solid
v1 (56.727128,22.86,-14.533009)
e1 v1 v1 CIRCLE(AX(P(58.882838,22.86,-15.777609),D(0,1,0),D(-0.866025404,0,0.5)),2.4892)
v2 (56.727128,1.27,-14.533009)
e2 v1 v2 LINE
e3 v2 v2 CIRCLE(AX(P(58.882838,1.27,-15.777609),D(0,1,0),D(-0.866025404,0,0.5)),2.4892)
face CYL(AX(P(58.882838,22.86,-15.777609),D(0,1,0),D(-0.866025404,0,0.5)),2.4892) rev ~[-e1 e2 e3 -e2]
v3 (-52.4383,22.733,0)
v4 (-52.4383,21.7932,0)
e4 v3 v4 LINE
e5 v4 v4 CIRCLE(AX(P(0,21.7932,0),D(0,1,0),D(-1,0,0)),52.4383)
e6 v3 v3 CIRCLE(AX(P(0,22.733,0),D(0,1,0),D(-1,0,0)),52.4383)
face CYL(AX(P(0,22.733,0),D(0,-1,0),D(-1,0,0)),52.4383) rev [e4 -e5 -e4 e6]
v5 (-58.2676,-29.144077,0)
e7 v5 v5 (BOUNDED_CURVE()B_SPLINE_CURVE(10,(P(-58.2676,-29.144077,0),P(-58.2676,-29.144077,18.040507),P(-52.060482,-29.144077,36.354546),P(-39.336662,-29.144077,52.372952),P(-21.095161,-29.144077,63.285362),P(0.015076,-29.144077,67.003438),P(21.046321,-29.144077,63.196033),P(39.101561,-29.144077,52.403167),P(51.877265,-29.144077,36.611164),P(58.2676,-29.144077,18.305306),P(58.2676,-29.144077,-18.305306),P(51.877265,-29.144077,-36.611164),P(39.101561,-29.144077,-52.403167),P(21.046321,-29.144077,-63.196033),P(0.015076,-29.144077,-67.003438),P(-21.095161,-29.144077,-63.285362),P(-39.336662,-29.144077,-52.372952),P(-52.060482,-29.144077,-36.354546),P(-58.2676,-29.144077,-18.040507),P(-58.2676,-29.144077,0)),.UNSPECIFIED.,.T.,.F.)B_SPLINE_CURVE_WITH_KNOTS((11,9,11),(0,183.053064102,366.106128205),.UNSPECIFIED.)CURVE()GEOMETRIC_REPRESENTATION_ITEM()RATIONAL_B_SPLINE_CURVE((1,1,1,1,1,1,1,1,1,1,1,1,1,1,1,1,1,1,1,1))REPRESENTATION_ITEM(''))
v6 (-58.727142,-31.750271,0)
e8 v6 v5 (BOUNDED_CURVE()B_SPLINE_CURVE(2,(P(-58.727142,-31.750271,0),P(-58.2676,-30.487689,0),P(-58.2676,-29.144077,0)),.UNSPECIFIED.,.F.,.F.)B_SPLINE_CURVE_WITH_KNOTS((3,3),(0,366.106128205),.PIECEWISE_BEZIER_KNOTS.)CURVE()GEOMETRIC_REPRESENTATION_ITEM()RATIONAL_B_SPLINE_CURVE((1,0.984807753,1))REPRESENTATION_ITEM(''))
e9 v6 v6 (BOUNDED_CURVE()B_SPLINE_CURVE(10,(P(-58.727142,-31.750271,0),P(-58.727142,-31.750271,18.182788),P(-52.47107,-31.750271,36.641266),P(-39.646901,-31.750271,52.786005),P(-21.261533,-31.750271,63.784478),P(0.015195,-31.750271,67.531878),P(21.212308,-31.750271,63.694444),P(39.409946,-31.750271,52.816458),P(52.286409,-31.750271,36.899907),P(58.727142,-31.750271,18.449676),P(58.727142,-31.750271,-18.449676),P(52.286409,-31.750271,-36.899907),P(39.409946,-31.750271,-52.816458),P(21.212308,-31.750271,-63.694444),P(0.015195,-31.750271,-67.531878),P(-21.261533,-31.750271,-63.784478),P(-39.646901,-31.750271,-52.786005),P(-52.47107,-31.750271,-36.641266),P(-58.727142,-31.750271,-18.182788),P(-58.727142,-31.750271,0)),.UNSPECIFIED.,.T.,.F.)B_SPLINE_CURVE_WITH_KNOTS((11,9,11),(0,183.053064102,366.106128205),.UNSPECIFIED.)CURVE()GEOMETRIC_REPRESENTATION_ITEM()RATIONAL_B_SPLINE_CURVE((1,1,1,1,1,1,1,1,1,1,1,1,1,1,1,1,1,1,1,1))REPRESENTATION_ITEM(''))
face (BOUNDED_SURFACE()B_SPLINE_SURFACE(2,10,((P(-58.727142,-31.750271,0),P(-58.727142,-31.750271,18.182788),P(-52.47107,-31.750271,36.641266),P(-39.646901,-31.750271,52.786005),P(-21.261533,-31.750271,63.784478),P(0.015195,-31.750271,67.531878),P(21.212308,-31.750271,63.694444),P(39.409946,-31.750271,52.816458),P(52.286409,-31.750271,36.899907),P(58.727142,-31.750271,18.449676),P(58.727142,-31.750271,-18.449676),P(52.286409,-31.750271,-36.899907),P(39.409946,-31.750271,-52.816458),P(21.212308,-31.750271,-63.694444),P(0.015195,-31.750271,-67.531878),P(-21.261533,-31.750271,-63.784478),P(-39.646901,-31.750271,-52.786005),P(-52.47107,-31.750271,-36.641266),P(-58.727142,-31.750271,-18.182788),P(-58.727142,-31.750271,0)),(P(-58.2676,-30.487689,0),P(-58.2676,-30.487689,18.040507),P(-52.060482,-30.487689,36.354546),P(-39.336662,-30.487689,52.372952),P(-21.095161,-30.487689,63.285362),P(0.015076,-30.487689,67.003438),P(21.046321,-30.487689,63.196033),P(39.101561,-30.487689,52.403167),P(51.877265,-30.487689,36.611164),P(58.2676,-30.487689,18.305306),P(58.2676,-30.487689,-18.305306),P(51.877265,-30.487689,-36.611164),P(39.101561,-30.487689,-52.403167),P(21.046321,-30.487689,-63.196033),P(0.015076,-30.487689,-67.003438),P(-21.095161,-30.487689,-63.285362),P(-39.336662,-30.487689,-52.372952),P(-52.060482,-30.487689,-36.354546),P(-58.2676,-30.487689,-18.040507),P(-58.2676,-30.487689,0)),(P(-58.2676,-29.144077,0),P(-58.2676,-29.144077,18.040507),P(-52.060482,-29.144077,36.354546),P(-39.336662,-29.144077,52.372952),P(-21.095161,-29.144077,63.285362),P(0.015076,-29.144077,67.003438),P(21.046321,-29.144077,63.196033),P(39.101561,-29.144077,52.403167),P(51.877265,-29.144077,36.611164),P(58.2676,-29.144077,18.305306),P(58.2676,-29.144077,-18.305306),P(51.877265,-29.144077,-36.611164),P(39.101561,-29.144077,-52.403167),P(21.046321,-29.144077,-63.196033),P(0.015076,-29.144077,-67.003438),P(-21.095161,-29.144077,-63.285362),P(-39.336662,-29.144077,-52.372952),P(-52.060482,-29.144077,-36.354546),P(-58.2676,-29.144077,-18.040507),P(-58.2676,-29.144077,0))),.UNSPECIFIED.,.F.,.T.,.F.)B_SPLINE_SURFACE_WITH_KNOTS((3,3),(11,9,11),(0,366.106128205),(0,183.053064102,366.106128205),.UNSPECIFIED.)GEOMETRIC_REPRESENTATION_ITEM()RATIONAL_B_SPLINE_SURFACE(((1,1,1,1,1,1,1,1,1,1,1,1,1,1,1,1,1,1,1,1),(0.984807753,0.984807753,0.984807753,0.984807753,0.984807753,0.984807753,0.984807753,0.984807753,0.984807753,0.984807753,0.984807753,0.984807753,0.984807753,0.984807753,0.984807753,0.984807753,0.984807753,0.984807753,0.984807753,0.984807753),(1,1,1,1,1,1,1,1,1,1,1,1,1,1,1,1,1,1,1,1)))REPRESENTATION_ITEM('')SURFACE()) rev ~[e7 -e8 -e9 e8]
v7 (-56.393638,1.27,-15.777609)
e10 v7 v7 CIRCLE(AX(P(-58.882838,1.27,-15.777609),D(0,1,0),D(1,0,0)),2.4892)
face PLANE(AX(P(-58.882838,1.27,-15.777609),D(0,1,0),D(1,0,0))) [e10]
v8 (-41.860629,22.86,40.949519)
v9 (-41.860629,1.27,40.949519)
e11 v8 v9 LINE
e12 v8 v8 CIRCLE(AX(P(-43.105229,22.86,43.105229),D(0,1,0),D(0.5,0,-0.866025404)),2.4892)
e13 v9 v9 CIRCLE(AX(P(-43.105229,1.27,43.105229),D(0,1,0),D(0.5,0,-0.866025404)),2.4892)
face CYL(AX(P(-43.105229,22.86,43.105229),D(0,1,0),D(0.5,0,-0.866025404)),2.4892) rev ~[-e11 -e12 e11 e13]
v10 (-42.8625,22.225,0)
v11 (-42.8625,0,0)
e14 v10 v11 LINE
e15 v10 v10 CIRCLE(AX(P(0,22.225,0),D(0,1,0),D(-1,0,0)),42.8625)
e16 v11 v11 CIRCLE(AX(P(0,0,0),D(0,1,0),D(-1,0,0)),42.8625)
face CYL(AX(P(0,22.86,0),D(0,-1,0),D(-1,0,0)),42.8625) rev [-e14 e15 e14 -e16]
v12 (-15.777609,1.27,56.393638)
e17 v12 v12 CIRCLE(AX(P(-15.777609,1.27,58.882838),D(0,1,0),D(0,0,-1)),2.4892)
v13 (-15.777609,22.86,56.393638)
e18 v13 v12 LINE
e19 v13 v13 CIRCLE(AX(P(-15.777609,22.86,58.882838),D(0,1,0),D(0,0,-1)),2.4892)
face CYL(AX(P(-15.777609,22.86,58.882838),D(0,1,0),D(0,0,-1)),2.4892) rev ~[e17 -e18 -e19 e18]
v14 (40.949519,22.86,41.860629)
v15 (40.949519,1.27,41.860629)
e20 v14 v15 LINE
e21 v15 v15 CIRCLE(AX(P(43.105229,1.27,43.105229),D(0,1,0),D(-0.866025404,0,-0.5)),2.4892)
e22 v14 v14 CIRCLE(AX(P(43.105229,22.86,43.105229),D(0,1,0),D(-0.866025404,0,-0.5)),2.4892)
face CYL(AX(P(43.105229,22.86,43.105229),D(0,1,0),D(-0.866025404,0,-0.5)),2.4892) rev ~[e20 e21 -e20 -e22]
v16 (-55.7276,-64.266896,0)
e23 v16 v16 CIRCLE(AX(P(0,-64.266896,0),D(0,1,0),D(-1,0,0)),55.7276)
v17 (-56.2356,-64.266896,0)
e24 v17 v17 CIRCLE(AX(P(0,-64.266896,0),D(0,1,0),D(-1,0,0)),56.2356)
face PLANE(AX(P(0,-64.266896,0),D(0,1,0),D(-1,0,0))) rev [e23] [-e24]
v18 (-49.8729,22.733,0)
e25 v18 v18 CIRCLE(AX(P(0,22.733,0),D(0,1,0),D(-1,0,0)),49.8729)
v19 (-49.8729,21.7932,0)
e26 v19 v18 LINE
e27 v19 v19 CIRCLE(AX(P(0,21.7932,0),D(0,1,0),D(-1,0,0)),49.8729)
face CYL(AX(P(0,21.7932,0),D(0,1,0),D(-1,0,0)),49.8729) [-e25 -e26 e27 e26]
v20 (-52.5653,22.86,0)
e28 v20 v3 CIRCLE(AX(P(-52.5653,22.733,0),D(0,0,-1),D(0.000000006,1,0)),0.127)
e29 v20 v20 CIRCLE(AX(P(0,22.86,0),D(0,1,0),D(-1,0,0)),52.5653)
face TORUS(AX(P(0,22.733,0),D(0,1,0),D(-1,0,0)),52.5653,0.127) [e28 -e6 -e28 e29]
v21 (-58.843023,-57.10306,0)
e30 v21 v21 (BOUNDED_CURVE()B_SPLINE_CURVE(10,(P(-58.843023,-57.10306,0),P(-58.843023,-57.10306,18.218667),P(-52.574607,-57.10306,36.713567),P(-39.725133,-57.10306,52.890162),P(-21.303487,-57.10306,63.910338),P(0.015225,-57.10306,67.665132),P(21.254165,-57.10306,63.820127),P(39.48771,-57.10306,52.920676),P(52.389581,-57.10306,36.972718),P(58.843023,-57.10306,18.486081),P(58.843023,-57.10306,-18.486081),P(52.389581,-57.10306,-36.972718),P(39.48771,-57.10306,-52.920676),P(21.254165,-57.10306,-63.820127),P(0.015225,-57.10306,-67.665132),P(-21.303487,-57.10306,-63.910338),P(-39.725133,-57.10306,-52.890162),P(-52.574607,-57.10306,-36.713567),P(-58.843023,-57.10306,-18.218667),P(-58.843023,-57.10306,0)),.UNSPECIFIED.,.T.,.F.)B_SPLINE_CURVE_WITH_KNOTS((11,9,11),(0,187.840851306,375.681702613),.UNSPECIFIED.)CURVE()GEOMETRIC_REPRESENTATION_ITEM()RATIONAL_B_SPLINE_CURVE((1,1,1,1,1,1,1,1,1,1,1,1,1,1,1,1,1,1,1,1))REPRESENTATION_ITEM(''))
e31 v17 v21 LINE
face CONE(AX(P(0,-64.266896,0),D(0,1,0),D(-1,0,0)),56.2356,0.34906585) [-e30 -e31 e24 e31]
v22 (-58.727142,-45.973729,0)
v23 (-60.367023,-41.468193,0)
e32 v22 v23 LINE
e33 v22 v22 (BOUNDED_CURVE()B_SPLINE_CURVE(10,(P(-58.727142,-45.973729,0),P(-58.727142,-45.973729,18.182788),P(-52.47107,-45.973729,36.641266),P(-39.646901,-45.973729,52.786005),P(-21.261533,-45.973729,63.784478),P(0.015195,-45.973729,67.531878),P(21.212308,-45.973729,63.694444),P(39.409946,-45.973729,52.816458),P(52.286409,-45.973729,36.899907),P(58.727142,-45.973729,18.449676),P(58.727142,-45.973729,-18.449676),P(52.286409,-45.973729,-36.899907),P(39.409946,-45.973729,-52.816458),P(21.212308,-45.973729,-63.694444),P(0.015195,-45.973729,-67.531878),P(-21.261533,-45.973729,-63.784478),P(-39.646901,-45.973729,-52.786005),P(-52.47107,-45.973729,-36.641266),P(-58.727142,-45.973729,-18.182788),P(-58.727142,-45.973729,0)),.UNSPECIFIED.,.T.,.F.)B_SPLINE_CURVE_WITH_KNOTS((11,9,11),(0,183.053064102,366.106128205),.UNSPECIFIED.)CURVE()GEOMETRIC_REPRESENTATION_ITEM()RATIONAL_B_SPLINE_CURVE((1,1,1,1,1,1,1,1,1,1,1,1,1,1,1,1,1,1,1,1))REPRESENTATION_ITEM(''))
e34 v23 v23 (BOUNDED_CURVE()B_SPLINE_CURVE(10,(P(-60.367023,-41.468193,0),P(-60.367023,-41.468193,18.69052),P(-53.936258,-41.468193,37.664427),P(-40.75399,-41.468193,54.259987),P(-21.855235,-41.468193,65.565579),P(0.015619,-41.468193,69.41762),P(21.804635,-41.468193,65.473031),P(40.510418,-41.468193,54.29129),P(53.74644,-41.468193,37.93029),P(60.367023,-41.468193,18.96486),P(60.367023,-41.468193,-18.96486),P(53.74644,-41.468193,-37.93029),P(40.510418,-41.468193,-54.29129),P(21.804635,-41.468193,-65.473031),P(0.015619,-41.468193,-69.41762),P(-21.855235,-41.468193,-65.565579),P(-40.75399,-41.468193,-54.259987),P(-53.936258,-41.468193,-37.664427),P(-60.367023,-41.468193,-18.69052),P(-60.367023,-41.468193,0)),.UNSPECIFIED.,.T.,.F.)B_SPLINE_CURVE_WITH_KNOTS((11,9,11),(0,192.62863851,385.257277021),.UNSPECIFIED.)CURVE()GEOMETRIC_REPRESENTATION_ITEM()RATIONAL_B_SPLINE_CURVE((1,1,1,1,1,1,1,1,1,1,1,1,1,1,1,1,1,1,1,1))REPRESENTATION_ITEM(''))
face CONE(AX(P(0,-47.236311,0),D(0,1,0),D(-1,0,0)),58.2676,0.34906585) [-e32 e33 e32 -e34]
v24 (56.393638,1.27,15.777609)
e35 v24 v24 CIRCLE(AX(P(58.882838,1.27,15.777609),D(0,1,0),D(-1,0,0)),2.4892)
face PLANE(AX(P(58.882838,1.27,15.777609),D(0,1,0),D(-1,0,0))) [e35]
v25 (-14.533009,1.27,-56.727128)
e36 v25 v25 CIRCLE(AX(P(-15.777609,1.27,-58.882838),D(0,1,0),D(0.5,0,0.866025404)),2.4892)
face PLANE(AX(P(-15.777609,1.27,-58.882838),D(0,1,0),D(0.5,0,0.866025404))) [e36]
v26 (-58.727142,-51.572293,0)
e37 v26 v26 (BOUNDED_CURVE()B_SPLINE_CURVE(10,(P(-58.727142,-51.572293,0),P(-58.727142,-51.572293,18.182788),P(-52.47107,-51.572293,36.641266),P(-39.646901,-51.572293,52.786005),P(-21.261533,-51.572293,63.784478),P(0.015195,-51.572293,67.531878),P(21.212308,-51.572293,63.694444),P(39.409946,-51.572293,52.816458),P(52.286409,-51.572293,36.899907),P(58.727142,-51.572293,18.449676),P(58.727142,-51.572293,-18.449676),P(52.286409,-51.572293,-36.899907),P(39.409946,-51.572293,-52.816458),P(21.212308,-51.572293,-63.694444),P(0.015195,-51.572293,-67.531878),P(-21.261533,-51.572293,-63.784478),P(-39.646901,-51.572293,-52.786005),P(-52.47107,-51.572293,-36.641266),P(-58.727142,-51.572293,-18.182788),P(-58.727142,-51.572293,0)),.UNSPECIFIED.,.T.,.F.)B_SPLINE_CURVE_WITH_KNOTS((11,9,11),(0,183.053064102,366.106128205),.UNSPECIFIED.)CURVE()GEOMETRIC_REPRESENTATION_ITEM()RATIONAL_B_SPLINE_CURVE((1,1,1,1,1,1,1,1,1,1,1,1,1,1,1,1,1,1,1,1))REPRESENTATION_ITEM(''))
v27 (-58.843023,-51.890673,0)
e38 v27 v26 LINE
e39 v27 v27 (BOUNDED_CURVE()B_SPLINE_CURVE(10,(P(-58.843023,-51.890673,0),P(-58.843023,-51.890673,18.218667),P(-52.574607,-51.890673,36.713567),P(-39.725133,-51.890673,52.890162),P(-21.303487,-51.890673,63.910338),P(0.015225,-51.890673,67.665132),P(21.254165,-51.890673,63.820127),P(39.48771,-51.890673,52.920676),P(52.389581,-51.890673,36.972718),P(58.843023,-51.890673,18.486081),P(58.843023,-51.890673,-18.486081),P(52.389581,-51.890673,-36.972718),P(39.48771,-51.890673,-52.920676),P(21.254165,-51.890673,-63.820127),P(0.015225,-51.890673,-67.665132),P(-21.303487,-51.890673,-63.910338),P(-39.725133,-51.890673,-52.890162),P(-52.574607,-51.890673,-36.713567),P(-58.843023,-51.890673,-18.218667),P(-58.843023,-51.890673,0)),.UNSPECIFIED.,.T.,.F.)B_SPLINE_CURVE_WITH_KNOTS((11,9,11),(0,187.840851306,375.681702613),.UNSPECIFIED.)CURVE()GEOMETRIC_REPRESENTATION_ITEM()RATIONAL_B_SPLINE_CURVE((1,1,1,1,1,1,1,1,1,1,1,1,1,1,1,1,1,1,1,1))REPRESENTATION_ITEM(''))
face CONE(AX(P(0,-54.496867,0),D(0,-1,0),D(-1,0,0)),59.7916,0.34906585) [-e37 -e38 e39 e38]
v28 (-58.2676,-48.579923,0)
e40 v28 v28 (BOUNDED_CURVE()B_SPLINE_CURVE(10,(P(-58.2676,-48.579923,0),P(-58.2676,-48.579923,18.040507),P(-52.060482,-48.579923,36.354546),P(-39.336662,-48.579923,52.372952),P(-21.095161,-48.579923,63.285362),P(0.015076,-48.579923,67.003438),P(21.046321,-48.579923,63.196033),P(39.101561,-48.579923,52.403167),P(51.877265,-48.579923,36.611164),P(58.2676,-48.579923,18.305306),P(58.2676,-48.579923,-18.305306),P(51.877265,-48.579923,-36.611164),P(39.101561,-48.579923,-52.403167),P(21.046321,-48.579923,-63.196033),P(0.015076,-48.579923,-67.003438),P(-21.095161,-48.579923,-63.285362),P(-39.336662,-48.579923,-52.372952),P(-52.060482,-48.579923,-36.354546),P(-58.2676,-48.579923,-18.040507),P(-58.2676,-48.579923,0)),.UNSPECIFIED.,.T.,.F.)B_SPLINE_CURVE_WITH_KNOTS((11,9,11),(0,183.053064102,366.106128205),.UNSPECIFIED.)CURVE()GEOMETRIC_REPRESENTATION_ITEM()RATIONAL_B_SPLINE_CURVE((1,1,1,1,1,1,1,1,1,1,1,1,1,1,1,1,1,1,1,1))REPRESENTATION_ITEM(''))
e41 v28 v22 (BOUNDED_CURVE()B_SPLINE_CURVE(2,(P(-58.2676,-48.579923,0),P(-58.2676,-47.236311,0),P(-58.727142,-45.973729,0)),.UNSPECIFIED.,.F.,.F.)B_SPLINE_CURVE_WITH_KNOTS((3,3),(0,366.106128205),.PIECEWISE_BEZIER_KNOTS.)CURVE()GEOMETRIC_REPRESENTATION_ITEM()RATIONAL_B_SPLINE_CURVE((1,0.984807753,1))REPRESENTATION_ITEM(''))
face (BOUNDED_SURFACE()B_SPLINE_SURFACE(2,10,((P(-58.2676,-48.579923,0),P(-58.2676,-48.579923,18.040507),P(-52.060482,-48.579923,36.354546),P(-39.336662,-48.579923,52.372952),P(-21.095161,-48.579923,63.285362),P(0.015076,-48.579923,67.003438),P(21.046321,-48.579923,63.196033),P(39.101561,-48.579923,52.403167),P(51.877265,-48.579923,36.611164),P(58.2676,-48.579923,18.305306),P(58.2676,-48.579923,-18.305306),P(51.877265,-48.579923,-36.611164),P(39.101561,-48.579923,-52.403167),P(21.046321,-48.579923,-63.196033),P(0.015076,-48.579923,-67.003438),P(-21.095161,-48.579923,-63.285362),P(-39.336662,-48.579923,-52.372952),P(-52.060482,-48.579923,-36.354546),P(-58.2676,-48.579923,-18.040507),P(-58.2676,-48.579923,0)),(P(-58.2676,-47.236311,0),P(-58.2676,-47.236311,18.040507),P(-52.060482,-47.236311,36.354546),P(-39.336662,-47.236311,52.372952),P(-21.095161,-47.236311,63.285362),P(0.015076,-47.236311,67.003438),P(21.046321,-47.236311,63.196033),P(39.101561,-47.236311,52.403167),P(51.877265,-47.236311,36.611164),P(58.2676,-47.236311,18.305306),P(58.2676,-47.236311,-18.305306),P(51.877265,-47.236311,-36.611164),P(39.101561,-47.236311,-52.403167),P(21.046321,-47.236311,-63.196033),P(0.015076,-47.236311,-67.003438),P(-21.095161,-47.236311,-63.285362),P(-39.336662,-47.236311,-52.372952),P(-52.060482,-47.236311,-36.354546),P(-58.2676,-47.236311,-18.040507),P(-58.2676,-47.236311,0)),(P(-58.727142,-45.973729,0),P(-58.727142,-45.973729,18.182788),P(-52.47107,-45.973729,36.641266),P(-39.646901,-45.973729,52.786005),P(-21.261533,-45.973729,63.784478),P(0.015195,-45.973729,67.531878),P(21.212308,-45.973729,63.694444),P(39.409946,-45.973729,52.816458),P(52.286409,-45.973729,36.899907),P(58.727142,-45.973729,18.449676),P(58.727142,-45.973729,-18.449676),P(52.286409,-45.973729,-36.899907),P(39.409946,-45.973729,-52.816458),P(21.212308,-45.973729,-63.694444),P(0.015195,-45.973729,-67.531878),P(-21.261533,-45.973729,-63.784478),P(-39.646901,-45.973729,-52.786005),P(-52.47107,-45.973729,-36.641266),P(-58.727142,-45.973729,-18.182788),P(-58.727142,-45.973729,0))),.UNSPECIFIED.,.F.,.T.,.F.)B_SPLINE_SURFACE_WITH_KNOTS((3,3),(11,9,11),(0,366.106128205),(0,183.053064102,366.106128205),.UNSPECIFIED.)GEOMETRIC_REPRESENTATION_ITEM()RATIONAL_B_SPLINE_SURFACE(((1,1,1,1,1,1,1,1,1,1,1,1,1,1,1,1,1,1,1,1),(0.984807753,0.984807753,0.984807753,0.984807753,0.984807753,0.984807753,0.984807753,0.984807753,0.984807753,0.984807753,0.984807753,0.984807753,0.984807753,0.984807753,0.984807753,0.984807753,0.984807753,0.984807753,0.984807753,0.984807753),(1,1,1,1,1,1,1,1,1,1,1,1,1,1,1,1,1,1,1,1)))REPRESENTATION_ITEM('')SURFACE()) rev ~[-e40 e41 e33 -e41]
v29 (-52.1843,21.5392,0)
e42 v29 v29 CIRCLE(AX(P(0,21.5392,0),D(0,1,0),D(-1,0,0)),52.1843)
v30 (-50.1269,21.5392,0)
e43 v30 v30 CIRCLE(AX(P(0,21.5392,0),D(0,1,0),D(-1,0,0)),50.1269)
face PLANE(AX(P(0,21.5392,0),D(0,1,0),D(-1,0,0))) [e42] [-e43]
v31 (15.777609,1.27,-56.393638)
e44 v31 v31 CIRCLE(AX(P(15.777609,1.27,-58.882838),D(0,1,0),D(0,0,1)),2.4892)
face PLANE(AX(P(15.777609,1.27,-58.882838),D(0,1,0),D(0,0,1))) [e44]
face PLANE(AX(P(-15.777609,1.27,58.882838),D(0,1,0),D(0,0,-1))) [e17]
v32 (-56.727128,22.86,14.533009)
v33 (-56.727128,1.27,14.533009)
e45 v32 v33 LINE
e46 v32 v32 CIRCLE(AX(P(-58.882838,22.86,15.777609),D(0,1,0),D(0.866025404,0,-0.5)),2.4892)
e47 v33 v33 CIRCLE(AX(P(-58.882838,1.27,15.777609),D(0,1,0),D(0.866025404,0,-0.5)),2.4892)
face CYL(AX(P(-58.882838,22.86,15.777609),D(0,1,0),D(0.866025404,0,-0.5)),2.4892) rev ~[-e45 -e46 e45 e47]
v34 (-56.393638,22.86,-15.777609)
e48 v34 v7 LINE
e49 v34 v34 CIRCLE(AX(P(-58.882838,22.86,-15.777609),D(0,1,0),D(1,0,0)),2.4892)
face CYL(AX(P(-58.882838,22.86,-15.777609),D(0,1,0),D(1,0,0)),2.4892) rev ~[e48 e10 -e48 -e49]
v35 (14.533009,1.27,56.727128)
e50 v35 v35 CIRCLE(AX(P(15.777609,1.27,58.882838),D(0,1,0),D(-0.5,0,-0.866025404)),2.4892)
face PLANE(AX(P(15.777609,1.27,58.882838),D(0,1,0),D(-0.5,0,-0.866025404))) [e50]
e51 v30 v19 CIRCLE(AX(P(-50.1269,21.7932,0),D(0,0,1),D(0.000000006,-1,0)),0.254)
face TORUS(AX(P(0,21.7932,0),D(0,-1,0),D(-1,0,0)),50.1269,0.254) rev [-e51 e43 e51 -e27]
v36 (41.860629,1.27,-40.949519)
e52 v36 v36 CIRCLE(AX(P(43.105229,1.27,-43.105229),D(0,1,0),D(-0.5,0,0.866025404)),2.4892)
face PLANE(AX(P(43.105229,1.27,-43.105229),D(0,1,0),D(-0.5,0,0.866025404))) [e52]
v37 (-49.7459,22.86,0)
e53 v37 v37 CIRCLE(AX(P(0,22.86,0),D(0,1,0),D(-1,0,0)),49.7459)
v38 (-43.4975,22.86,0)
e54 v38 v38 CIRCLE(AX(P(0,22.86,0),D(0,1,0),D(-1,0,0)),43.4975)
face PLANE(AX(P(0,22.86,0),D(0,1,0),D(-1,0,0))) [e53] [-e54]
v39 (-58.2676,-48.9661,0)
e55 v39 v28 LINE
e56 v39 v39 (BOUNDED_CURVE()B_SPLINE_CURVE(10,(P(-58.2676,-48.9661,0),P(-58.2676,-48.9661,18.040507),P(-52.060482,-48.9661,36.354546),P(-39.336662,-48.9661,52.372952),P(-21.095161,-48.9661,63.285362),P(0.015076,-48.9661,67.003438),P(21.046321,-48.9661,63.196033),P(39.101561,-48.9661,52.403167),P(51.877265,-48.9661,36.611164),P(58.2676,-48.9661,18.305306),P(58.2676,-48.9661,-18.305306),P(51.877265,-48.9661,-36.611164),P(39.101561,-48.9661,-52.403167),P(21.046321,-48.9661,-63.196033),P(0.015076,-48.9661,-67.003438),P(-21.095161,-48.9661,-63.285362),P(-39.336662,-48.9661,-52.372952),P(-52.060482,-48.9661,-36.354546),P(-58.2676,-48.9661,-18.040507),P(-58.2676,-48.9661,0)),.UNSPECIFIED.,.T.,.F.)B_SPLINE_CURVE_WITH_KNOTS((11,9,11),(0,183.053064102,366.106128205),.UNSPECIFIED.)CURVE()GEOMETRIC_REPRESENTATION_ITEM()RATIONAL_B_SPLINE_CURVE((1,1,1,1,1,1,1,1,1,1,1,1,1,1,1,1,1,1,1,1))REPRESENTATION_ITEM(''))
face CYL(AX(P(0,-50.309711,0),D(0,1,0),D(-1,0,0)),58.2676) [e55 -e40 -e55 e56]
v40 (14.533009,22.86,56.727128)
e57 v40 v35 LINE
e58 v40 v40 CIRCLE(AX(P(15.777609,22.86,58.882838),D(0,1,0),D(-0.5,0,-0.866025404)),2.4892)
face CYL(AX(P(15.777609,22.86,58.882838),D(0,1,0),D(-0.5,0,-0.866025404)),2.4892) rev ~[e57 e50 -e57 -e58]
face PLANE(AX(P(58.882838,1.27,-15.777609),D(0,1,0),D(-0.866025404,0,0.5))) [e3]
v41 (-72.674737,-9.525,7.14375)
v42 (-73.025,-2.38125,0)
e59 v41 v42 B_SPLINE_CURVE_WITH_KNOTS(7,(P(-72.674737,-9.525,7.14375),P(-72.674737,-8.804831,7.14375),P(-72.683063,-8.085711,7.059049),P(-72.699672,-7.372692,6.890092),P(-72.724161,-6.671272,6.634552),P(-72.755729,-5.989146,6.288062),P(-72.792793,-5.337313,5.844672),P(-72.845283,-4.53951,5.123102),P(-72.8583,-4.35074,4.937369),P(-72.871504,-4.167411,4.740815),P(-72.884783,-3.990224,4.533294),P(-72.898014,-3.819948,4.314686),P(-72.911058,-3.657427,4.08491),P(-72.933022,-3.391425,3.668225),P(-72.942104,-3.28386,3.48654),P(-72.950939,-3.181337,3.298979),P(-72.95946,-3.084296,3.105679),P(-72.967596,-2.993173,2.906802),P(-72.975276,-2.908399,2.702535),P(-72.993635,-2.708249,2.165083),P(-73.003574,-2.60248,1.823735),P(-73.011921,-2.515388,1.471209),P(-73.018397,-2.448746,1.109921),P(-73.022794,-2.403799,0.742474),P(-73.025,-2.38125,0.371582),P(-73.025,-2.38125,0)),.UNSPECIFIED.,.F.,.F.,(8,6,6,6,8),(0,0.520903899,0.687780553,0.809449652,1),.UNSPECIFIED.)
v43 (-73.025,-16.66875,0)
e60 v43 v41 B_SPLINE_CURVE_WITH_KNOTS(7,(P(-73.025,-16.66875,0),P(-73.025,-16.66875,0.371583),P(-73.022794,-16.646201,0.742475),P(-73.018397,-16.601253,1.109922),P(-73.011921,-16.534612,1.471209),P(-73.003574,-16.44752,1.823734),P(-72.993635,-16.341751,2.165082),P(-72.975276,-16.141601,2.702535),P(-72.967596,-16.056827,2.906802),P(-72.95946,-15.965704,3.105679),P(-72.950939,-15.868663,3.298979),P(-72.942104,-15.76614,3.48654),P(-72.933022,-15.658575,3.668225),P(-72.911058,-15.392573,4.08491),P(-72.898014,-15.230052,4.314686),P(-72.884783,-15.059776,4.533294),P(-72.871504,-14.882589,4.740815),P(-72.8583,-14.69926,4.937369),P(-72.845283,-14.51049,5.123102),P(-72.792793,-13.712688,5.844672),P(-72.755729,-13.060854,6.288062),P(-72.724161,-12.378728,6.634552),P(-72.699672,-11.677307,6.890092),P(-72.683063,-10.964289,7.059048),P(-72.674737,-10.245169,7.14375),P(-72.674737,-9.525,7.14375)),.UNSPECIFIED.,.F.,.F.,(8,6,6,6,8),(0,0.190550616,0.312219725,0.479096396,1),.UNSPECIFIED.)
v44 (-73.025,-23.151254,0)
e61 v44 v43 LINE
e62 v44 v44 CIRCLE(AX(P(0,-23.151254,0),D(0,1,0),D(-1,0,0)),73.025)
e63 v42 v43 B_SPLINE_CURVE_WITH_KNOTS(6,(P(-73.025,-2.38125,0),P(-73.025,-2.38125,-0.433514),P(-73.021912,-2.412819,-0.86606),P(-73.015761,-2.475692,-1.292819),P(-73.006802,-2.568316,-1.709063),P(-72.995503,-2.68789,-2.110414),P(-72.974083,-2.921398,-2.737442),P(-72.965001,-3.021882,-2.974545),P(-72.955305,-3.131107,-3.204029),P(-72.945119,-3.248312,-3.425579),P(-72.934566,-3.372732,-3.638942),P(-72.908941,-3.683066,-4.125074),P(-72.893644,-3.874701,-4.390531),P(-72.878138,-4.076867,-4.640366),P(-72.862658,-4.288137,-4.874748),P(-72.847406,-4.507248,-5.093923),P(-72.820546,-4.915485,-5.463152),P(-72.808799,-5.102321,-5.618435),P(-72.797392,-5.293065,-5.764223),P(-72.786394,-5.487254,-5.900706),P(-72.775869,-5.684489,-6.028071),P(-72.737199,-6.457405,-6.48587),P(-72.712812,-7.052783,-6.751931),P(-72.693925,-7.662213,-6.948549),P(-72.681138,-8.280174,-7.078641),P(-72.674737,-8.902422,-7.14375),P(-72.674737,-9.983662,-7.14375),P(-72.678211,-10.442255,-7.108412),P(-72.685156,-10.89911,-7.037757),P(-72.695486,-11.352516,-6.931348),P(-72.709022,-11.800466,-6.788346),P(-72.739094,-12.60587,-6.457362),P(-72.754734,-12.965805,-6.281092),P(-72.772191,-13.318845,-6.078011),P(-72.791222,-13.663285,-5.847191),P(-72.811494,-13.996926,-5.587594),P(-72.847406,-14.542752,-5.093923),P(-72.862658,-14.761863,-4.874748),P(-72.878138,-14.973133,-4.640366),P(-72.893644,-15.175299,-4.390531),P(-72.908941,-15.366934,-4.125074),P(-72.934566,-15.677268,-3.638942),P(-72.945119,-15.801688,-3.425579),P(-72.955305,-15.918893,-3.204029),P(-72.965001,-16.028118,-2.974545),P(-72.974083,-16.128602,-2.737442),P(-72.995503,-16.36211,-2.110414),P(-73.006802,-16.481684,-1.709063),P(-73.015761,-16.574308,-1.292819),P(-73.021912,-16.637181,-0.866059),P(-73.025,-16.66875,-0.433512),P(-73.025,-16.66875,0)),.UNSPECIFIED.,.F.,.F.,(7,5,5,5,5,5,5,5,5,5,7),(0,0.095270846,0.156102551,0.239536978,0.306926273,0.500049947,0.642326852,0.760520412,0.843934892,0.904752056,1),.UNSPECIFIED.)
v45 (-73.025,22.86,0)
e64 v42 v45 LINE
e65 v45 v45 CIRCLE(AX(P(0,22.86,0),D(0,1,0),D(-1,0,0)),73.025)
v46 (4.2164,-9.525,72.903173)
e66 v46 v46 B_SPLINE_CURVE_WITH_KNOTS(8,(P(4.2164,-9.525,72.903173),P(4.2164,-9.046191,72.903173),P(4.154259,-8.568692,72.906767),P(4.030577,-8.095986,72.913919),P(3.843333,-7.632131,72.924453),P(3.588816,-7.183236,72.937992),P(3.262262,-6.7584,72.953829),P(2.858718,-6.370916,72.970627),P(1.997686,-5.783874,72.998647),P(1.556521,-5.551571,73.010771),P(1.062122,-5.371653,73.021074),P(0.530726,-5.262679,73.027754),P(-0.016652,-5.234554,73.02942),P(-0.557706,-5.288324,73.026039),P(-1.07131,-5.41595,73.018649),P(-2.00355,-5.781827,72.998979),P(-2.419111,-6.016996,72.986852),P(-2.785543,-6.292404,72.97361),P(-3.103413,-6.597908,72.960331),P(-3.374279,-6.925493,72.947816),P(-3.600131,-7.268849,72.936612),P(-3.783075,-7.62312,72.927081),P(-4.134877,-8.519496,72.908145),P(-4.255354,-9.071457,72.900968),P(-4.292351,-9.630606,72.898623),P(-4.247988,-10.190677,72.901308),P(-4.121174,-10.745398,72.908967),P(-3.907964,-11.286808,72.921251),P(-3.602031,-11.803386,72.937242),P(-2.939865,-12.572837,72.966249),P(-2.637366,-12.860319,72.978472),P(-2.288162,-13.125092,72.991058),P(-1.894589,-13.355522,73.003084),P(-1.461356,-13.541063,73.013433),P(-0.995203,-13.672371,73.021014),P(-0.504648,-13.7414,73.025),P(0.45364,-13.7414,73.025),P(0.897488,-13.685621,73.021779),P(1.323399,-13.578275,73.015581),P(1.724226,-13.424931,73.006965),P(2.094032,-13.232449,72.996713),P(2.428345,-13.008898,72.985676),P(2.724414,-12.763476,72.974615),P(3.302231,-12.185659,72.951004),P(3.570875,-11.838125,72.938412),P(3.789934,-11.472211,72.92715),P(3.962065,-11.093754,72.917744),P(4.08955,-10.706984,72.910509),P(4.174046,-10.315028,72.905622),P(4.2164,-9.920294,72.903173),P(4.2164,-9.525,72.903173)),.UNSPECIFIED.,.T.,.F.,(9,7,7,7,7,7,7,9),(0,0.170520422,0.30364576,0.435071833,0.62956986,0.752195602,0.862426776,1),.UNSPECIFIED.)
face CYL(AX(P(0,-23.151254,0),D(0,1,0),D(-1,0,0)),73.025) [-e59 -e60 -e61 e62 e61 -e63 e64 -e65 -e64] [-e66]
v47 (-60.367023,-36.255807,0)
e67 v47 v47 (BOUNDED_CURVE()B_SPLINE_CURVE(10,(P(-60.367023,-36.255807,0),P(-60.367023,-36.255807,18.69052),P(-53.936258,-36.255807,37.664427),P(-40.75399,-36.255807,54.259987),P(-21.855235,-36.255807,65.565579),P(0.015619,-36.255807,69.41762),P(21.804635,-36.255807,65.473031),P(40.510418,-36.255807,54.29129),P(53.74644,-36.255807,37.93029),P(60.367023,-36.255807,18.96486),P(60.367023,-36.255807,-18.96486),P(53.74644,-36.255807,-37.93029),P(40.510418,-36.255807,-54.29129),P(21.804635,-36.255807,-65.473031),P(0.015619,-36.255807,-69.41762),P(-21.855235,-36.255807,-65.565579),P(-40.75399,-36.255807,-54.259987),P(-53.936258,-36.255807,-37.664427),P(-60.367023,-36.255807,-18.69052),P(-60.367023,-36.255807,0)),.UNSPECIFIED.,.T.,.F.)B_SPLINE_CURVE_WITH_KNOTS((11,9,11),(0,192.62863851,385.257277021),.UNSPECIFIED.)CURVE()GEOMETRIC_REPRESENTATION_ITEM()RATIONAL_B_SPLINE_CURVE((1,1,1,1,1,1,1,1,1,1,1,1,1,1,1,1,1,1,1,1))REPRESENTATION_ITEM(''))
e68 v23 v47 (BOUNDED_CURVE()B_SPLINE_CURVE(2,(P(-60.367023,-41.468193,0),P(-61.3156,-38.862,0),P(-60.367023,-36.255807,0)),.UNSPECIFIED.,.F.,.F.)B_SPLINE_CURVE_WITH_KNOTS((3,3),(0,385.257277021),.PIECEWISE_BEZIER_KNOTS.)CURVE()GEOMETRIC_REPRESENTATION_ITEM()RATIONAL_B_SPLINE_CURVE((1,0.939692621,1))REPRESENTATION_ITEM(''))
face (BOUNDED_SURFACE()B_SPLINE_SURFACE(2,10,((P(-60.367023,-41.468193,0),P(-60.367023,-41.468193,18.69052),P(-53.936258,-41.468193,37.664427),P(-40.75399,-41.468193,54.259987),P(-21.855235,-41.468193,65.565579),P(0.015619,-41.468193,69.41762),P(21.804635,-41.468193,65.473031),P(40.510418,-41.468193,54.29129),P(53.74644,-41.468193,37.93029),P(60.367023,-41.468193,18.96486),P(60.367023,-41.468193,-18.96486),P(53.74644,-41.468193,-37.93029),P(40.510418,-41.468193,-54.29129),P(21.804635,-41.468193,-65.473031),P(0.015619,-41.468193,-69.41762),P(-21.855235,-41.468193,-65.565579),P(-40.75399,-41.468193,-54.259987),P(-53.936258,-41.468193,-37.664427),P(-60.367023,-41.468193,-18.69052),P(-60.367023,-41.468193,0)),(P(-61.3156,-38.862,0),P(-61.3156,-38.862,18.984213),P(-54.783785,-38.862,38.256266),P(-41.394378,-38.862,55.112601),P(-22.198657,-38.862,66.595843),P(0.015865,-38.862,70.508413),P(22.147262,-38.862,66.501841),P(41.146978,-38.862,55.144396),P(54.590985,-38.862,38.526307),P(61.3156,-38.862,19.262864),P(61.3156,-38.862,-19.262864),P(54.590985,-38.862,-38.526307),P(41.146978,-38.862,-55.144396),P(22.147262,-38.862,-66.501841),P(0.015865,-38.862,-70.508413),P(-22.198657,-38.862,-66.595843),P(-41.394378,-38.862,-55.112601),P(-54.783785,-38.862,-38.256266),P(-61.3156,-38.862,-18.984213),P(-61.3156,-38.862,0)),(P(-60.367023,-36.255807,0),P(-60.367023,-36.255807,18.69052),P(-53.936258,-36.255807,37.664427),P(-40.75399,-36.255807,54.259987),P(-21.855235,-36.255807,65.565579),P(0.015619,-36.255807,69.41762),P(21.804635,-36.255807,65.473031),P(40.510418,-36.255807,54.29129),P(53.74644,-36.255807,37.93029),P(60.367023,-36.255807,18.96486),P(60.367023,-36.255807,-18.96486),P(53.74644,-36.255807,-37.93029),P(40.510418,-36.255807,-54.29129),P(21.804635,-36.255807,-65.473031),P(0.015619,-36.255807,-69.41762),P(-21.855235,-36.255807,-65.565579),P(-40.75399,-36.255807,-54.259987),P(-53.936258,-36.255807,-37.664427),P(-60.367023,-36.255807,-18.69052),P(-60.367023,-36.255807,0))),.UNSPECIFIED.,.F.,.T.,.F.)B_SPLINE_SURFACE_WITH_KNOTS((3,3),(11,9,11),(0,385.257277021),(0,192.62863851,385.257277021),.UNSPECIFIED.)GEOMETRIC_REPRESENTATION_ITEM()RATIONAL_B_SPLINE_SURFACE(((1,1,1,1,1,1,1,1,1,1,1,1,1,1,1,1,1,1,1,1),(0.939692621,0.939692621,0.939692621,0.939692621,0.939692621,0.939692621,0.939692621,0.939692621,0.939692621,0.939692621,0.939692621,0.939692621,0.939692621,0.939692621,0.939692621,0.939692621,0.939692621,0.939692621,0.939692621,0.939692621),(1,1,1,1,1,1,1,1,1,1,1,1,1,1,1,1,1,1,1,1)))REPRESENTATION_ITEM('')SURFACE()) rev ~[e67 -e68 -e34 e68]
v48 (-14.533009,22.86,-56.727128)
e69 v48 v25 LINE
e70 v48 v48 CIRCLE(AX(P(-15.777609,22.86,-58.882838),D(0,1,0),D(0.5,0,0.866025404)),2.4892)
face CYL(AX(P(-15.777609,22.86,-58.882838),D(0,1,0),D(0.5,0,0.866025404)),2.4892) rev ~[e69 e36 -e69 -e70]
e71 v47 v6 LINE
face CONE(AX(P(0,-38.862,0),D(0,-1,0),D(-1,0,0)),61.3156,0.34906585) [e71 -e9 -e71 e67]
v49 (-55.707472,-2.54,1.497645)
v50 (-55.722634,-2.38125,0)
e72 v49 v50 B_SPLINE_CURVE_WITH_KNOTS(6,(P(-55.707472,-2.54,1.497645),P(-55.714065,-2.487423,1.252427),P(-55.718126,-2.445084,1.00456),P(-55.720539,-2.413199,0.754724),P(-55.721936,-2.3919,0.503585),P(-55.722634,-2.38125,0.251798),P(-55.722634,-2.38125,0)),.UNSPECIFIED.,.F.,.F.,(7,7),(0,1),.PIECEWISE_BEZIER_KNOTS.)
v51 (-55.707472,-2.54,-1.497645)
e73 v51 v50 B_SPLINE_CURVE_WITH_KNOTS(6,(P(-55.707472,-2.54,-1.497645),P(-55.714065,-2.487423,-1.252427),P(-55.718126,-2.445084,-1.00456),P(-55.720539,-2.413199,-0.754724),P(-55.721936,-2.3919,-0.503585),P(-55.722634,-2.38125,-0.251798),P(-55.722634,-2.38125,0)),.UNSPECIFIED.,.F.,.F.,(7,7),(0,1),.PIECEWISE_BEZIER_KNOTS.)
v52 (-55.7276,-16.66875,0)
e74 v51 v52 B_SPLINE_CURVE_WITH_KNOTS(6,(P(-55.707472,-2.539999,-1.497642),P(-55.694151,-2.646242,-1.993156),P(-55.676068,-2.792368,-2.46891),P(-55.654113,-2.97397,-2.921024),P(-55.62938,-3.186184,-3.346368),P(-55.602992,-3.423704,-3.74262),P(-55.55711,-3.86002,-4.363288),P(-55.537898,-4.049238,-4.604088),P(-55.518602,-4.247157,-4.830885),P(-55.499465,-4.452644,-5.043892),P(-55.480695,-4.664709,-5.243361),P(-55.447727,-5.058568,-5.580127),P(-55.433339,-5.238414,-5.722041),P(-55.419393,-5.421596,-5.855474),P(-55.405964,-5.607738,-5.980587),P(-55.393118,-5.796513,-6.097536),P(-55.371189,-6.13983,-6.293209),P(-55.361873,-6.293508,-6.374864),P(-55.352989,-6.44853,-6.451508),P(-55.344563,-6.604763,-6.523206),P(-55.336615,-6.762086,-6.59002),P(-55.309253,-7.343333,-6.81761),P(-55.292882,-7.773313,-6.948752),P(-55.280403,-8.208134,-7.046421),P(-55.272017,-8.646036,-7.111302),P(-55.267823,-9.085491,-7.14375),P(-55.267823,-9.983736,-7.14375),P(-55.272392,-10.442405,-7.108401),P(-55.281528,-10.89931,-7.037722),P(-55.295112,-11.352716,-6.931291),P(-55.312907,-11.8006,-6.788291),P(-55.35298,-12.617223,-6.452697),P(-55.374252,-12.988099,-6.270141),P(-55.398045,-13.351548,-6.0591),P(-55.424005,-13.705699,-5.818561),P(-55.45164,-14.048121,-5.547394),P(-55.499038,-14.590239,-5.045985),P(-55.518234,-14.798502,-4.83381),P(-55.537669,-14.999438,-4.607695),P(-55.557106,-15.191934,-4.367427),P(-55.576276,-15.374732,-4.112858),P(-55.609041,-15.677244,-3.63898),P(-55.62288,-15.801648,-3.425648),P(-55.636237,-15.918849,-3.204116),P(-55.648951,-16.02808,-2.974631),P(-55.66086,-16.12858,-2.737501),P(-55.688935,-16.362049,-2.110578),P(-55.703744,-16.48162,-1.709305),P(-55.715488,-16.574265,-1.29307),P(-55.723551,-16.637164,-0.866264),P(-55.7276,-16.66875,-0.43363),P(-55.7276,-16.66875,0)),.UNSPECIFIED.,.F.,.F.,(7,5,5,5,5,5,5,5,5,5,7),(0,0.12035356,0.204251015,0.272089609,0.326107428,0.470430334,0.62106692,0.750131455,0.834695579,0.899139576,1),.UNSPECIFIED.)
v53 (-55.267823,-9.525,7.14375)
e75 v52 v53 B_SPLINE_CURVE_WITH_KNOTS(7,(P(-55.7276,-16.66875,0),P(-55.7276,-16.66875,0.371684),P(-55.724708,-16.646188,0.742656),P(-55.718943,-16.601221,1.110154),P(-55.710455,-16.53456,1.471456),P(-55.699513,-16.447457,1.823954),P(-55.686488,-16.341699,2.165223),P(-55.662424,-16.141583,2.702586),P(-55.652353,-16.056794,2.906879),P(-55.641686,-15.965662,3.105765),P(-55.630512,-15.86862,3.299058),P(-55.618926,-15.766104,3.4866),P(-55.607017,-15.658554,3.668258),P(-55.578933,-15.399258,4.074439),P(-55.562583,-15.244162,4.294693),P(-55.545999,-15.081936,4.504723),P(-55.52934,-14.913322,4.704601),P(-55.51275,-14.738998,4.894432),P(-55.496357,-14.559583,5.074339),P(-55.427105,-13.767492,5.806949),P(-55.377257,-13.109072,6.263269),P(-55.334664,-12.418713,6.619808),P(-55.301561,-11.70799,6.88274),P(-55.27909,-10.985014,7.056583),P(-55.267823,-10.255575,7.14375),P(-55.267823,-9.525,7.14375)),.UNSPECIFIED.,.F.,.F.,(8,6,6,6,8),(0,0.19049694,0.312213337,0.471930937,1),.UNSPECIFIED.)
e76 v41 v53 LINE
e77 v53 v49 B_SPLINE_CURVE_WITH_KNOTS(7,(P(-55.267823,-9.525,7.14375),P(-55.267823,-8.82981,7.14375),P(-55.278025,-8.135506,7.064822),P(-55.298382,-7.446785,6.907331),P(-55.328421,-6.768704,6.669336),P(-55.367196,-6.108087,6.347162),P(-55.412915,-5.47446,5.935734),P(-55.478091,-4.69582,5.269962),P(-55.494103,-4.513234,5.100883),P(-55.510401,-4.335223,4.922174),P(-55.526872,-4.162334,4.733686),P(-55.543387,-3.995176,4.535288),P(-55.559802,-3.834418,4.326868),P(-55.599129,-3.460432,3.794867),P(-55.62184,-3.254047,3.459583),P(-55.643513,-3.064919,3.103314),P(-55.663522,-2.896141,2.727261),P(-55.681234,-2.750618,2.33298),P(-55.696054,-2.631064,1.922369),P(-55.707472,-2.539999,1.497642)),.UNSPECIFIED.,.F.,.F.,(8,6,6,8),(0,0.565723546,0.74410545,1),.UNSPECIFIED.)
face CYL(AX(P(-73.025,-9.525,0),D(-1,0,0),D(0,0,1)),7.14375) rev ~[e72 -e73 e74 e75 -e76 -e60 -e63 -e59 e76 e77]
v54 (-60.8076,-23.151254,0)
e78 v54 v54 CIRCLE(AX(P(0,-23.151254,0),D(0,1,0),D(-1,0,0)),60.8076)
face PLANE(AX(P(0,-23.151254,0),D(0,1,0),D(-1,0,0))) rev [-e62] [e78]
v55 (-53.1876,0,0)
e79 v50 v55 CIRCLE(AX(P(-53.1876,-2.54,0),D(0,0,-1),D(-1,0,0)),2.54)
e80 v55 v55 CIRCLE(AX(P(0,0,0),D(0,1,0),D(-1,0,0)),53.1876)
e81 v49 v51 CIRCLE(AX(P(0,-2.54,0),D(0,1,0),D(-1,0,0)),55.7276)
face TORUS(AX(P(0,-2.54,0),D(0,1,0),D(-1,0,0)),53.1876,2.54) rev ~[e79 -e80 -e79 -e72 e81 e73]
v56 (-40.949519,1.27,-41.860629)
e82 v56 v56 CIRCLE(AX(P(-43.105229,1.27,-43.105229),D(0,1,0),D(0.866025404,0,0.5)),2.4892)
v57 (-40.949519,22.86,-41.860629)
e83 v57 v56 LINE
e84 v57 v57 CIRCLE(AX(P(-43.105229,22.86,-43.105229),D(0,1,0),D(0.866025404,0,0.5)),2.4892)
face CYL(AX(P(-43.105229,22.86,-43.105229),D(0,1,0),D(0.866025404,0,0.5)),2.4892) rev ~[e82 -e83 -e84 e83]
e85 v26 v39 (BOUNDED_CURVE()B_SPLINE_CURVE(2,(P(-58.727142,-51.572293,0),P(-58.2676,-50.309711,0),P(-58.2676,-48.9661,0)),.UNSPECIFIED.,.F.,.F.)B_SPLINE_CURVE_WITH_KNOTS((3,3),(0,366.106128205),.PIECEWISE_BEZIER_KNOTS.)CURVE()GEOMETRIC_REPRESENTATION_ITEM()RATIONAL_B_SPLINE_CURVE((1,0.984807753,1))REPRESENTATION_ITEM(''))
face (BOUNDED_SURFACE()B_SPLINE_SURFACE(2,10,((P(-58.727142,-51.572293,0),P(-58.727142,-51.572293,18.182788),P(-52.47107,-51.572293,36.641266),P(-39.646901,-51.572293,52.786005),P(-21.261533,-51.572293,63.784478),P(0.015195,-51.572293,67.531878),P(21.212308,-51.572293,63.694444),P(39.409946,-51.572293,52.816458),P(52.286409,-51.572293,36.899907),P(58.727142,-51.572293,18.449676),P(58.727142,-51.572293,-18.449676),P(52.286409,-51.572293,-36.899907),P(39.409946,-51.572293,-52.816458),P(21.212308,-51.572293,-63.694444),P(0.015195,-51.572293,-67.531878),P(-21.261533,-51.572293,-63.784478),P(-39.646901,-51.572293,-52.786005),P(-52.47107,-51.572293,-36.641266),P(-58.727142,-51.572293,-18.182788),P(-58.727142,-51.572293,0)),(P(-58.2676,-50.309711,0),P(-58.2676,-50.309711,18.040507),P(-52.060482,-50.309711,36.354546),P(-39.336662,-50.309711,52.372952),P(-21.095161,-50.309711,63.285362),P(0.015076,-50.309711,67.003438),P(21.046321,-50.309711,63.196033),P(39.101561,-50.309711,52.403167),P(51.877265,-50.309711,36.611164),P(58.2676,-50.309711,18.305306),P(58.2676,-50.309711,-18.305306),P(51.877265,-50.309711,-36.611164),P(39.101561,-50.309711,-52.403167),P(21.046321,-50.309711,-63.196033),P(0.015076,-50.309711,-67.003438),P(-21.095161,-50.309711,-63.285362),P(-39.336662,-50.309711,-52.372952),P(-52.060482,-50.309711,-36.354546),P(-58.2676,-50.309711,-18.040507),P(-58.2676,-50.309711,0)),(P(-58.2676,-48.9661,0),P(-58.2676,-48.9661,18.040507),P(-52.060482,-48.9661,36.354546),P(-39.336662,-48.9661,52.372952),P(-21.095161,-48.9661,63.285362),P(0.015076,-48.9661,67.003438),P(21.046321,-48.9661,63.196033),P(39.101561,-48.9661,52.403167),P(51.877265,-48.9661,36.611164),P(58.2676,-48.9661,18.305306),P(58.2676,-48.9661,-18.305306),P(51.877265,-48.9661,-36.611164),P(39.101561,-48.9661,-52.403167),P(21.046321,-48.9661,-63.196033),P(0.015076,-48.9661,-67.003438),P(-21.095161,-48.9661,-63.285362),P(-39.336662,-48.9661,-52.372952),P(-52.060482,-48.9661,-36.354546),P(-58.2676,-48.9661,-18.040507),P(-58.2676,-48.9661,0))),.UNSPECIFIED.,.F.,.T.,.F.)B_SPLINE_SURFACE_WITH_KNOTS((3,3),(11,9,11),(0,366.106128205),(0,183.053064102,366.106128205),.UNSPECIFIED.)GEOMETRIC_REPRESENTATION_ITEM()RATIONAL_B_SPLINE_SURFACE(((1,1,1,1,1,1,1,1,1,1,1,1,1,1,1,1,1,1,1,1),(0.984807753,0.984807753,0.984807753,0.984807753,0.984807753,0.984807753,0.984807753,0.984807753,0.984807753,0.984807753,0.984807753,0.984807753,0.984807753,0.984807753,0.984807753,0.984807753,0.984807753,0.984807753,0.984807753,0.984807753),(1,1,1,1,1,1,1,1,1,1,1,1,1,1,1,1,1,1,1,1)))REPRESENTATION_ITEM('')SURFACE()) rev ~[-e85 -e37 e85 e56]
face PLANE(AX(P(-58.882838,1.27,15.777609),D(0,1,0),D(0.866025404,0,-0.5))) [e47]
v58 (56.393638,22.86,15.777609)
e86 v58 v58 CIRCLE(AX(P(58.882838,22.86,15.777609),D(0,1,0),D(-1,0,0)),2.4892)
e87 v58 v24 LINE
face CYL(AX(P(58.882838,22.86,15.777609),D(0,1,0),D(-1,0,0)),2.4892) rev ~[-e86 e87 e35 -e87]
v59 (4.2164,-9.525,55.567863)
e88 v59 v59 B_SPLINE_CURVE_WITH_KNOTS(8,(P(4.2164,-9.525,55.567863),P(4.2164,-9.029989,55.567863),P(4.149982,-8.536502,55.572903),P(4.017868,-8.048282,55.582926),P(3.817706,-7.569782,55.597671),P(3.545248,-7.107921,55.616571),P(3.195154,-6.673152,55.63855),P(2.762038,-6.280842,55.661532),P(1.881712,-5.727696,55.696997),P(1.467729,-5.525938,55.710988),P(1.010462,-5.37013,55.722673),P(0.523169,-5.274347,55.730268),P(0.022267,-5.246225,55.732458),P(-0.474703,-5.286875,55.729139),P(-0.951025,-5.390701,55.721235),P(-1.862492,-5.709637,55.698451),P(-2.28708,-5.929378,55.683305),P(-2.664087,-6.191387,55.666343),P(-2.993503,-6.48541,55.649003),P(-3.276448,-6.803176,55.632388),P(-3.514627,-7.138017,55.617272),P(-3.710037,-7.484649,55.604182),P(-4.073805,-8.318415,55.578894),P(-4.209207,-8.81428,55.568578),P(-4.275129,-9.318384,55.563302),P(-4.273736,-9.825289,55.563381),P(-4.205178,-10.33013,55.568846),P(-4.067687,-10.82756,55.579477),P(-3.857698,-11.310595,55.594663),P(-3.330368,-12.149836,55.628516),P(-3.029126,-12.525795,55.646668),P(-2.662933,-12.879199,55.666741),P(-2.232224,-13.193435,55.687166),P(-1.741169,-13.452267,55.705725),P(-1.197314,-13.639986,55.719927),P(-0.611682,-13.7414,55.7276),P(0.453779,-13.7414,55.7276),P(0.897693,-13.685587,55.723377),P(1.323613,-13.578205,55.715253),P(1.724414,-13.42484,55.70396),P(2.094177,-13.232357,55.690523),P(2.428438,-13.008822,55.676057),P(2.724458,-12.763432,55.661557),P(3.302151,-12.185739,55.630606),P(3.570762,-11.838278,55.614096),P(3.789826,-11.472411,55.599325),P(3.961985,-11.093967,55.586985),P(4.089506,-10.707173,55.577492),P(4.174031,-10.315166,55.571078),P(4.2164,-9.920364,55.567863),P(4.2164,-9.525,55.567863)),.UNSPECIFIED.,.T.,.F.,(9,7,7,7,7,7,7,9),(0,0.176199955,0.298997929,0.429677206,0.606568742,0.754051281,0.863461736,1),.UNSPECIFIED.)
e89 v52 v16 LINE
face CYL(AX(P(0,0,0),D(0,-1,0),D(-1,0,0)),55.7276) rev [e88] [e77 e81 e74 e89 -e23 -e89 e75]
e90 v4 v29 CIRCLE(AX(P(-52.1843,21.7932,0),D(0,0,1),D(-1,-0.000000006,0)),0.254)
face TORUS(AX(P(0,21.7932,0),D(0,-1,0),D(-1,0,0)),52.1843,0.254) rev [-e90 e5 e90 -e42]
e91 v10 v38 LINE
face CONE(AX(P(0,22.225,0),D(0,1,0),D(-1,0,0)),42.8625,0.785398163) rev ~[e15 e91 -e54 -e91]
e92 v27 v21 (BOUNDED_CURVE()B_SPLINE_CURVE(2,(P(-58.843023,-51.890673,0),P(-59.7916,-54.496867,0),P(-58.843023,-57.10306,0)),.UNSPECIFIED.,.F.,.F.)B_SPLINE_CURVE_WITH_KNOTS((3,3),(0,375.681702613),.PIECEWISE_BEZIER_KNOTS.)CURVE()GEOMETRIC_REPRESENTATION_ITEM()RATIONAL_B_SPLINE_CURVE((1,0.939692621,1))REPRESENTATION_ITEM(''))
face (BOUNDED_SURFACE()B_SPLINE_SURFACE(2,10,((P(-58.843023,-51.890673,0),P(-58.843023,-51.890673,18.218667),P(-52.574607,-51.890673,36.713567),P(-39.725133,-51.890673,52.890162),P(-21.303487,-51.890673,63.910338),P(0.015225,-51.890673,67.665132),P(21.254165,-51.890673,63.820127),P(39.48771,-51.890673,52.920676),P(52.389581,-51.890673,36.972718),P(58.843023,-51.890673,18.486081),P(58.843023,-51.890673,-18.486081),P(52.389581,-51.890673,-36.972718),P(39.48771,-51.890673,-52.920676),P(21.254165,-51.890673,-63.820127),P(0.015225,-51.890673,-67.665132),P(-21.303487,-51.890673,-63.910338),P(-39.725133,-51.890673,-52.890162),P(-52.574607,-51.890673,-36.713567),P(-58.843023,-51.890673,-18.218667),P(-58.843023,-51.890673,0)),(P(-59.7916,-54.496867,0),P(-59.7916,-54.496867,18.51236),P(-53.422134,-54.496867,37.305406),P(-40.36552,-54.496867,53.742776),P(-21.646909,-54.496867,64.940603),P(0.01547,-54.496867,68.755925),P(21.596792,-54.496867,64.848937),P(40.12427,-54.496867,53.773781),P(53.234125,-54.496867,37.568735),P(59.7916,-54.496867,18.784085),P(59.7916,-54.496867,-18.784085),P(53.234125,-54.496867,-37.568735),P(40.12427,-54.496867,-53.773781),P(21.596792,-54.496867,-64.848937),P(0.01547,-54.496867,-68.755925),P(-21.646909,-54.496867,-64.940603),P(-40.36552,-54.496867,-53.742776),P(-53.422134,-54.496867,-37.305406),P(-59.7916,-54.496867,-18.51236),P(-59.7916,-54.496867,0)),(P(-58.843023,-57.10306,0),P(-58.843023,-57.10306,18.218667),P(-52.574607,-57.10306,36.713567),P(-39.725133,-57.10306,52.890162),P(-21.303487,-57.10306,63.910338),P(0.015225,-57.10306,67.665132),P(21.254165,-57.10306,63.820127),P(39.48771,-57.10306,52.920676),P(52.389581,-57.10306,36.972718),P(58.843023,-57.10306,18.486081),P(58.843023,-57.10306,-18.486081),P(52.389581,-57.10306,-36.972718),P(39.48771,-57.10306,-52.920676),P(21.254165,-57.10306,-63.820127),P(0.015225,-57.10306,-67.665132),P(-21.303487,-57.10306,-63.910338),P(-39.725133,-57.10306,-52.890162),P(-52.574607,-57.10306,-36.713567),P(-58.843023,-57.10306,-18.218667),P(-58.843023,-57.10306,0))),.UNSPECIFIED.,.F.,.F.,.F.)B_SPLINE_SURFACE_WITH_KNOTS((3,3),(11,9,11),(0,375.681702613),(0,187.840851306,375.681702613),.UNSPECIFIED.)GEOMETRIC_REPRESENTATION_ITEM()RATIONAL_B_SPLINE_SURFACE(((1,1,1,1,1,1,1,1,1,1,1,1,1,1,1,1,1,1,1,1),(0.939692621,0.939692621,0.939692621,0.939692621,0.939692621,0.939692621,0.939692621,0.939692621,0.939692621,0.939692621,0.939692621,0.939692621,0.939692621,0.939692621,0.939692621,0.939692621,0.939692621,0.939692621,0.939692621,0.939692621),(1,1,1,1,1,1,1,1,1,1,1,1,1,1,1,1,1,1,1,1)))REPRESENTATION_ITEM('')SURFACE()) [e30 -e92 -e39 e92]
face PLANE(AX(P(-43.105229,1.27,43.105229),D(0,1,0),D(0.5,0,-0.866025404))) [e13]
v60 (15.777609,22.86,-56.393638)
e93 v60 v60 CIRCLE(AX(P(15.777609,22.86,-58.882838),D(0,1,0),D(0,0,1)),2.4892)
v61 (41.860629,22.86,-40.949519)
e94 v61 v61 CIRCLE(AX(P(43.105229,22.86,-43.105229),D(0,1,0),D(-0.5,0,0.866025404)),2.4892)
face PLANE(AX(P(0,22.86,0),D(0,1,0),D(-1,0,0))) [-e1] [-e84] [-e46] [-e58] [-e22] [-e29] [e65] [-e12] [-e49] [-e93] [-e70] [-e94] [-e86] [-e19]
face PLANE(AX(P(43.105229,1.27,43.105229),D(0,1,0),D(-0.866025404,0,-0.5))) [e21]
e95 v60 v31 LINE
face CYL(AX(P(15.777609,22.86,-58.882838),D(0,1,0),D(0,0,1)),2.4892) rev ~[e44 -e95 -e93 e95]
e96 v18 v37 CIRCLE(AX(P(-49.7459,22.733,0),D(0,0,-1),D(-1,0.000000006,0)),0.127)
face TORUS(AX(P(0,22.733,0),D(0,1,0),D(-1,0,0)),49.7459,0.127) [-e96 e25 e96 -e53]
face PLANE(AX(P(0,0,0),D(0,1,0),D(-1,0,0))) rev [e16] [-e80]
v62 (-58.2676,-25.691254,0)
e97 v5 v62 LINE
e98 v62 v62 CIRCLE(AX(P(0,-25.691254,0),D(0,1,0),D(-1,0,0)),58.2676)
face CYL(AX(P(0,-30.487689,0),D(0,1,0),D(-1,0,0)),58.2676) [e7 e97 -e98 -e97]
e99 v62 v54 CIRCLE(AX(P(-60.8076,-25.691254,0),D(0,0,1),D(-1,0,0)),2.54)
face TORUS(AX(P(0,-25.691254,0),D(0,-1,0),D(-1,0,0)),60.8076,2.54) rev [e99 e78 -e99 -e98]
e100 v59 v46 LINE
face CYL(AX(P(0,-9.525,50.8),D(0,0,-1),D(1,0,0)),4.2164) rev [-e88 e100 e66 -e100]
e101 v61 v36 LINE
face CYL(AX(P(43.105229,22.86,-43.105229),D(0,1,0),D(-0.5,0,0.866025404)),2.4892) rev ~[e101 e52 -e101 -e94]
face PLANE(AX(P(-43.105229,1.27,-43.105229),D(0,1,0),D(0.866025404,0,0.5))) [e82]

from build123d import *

# Parameters (mm, degrees)
ASSEMBLY_BOLT_INSERT_DIAMETER_R = 2.4892
ASSEMBLY_BOLT_INSERT_CUT_DEPTH  = 21.59
ASSEMBLY_BOLTS_COUNT            = 12
PT_CUT_DIAMETER_R               = 4.2164
PT_CUT_DEPTH                    = 158.465917682
FILLET1_R                       = 7.62
FILLET2_R                       = 2.54
FILLET3_R                       = 7.62
FILLET7_R                       = 7.62
SKETCH24_R                      = 7.14375
CUT_EXTRUDE2_DEPTH              = 25.4
CHAMFER1_SIZE                   = 0.635


with BuildPart() as part:
    # Flange profile → Flange (revolve)
    with BuildSketch(Plane.XY):
        with BuildLine():
            Line((-42.8625, 22.86), (-42.8625, 0))
            Line((-42.8625, 0), (-55.7276, 0))
            Line((-55.7276, 0), (-55.7276, -64.266896465))
            Line((-55.7276, -64.266896465), (-56.2356, -64.266896465))
            Line((-56.2356, -64.266896465), (-59.7916, -54.496866762))
            Line((-59.7916, -54.496866762), (-58.2676, -50.309711174))
            Line((-58.2676, -50.309711174), (-58.2676, -47.236311174))
            Line((-58.2676, -47.236311174), (-61.3156, -38.862))
            Line((-61.3156, -38.862), (-58.2676, -30.487688826))
            Line((-58.2676, -30.487688826), (-58.2676, -23.151254335))
            Line((-58.2676, -23.151254335), (-73.025, -23.151254335))
            Line((-73.025, -23.151254335), (-73.025, 22.86))
            Line((-73.025, 22.86), (-52.5653, 22.86))
            ThreePointArc((-52.5653, 22.86), (-52.475497439, 22.822802561), (-52.4383, 22.733))
            Line((-52.4383, 22.733), (-52.4383, 21.7932))
            ThreePointArc((-52.4383, 21.7932), (-52.363905122, 21.613594878), (-52.1843, 21.5392))
            Line((-52.1843, 21.5392), (-50.1269, 21.5392))
            ThreePointArc((-50.1269, 21.5392), (-49.947294878, 21.613594878), (-49.8729, 21.7932))
            Line((-49.8729, 21.7932), (-49.8729, 22.733))
            ThreePointArc((-49.8729, 22.733), (-49.835702561, 22.822802561), (-49.7459, 22.86))
            Line((-49.7459, 22.86), (-42.8625, 22.86))
        make_face()
    revolve(axis=Axis((0, 0, 0), (0, 1, 0)))

    # Assembly Bolt Insert Diameter → Assembly Bolt Insert Cut (cut)
    with BuildSketch(Plane(origin=(0, 22.86, 0), x_dir=(1, 0, 0), z_dir=(0, 1, 0))):
        with Locations((-58.882838371, 15.777608989)):
            Circle(ASSEMBLY_BOLT_INSERT_DIAMETER_R)
    assembly_bolt_insert_cut = extrude(amount=-ASSEMBLY_BOLT_INSERT_CUT_DEPTH, mode=Mode.SUBTRACT)

    # Assembly Bolts: Assembly Bolt Insert Cut ×12 about axis
    assembly_bolts_axis = Axis((0, 0, 0), (0, -1, 0))
    for i in range(1, ASSEMBLY_BOLTS_COUNT):
        add(assembly_bolt_insert_cut.rotate(assembly_bolts_axis, i * 360 / ASSEMBLY_BOLTS_COUNT), mode=Mode.SUBTRACT)

    # Pt Cut Diameter → Pt Cut (cut, through all)
    with BuildSketch(Plane.XY.offset(50.8)):
        with Locations((0, -9.525)):
            Circle(PT_CUT_DIAMETER_R)
    extrude(amount=PT_CUT_DEPTH, mode=Mode.SUBTRACT)

    # Fillet1
    fillet1_edges = [part.edges().sort_by_distance(p)[0] for p in [
        (61.3156, -38.862, 0),
    ]]
    fillet(fillet1_edges, radius=FILLET1_R)

    # Fillet2
    fillet2_edges = [part.edges().sort_by_distance(p)[0] for p in [
        (58.2676, -23.151254335, 0),
        (55.7276, 0, 0),
    ]]
    fillet(fillet2_edges, radius=FILLET2_R)

    # Fillet3
    fillet3_edges = [part.edges().sort_by_distance(p)[0] for p in [
        (59.7916, -54.496866762, 0),
    ]]
    fillet(fillet3_edges, radius=FILLET3_R)

    # Fillet7
    fillet7_edges = [part.edges().sort_by_distance(p)[0] for p in [
        (58.2676, -50.309711174, 0),
        (58.2676, -47.236311174, 0),
        (58.2676, -30.487688826, 0),
    ]]
    fillet(fillet7_edges, radius=FILLET7_R)

    # Sketch24 → Cut-Extrude2 (cut)
    with BuildSketch(Plane.ZY.offset(73.025)):
        with Locations((0, -9.525)):
            Circle(SKETCH24_R)
    extrude(amount=-CUT_EXTRUDE2_DEPTH, mode=Mode.SUBTRACT)

    # Chamfer1
    chamfer1_edges = [part.edges().sort_by_distance(p)[0] for p in [
        (42.8625, 22.86, 0),
    ]]
    chamfer(chamfer1_edges, length=CHAMFER1_SIZE)


solid = part.part
